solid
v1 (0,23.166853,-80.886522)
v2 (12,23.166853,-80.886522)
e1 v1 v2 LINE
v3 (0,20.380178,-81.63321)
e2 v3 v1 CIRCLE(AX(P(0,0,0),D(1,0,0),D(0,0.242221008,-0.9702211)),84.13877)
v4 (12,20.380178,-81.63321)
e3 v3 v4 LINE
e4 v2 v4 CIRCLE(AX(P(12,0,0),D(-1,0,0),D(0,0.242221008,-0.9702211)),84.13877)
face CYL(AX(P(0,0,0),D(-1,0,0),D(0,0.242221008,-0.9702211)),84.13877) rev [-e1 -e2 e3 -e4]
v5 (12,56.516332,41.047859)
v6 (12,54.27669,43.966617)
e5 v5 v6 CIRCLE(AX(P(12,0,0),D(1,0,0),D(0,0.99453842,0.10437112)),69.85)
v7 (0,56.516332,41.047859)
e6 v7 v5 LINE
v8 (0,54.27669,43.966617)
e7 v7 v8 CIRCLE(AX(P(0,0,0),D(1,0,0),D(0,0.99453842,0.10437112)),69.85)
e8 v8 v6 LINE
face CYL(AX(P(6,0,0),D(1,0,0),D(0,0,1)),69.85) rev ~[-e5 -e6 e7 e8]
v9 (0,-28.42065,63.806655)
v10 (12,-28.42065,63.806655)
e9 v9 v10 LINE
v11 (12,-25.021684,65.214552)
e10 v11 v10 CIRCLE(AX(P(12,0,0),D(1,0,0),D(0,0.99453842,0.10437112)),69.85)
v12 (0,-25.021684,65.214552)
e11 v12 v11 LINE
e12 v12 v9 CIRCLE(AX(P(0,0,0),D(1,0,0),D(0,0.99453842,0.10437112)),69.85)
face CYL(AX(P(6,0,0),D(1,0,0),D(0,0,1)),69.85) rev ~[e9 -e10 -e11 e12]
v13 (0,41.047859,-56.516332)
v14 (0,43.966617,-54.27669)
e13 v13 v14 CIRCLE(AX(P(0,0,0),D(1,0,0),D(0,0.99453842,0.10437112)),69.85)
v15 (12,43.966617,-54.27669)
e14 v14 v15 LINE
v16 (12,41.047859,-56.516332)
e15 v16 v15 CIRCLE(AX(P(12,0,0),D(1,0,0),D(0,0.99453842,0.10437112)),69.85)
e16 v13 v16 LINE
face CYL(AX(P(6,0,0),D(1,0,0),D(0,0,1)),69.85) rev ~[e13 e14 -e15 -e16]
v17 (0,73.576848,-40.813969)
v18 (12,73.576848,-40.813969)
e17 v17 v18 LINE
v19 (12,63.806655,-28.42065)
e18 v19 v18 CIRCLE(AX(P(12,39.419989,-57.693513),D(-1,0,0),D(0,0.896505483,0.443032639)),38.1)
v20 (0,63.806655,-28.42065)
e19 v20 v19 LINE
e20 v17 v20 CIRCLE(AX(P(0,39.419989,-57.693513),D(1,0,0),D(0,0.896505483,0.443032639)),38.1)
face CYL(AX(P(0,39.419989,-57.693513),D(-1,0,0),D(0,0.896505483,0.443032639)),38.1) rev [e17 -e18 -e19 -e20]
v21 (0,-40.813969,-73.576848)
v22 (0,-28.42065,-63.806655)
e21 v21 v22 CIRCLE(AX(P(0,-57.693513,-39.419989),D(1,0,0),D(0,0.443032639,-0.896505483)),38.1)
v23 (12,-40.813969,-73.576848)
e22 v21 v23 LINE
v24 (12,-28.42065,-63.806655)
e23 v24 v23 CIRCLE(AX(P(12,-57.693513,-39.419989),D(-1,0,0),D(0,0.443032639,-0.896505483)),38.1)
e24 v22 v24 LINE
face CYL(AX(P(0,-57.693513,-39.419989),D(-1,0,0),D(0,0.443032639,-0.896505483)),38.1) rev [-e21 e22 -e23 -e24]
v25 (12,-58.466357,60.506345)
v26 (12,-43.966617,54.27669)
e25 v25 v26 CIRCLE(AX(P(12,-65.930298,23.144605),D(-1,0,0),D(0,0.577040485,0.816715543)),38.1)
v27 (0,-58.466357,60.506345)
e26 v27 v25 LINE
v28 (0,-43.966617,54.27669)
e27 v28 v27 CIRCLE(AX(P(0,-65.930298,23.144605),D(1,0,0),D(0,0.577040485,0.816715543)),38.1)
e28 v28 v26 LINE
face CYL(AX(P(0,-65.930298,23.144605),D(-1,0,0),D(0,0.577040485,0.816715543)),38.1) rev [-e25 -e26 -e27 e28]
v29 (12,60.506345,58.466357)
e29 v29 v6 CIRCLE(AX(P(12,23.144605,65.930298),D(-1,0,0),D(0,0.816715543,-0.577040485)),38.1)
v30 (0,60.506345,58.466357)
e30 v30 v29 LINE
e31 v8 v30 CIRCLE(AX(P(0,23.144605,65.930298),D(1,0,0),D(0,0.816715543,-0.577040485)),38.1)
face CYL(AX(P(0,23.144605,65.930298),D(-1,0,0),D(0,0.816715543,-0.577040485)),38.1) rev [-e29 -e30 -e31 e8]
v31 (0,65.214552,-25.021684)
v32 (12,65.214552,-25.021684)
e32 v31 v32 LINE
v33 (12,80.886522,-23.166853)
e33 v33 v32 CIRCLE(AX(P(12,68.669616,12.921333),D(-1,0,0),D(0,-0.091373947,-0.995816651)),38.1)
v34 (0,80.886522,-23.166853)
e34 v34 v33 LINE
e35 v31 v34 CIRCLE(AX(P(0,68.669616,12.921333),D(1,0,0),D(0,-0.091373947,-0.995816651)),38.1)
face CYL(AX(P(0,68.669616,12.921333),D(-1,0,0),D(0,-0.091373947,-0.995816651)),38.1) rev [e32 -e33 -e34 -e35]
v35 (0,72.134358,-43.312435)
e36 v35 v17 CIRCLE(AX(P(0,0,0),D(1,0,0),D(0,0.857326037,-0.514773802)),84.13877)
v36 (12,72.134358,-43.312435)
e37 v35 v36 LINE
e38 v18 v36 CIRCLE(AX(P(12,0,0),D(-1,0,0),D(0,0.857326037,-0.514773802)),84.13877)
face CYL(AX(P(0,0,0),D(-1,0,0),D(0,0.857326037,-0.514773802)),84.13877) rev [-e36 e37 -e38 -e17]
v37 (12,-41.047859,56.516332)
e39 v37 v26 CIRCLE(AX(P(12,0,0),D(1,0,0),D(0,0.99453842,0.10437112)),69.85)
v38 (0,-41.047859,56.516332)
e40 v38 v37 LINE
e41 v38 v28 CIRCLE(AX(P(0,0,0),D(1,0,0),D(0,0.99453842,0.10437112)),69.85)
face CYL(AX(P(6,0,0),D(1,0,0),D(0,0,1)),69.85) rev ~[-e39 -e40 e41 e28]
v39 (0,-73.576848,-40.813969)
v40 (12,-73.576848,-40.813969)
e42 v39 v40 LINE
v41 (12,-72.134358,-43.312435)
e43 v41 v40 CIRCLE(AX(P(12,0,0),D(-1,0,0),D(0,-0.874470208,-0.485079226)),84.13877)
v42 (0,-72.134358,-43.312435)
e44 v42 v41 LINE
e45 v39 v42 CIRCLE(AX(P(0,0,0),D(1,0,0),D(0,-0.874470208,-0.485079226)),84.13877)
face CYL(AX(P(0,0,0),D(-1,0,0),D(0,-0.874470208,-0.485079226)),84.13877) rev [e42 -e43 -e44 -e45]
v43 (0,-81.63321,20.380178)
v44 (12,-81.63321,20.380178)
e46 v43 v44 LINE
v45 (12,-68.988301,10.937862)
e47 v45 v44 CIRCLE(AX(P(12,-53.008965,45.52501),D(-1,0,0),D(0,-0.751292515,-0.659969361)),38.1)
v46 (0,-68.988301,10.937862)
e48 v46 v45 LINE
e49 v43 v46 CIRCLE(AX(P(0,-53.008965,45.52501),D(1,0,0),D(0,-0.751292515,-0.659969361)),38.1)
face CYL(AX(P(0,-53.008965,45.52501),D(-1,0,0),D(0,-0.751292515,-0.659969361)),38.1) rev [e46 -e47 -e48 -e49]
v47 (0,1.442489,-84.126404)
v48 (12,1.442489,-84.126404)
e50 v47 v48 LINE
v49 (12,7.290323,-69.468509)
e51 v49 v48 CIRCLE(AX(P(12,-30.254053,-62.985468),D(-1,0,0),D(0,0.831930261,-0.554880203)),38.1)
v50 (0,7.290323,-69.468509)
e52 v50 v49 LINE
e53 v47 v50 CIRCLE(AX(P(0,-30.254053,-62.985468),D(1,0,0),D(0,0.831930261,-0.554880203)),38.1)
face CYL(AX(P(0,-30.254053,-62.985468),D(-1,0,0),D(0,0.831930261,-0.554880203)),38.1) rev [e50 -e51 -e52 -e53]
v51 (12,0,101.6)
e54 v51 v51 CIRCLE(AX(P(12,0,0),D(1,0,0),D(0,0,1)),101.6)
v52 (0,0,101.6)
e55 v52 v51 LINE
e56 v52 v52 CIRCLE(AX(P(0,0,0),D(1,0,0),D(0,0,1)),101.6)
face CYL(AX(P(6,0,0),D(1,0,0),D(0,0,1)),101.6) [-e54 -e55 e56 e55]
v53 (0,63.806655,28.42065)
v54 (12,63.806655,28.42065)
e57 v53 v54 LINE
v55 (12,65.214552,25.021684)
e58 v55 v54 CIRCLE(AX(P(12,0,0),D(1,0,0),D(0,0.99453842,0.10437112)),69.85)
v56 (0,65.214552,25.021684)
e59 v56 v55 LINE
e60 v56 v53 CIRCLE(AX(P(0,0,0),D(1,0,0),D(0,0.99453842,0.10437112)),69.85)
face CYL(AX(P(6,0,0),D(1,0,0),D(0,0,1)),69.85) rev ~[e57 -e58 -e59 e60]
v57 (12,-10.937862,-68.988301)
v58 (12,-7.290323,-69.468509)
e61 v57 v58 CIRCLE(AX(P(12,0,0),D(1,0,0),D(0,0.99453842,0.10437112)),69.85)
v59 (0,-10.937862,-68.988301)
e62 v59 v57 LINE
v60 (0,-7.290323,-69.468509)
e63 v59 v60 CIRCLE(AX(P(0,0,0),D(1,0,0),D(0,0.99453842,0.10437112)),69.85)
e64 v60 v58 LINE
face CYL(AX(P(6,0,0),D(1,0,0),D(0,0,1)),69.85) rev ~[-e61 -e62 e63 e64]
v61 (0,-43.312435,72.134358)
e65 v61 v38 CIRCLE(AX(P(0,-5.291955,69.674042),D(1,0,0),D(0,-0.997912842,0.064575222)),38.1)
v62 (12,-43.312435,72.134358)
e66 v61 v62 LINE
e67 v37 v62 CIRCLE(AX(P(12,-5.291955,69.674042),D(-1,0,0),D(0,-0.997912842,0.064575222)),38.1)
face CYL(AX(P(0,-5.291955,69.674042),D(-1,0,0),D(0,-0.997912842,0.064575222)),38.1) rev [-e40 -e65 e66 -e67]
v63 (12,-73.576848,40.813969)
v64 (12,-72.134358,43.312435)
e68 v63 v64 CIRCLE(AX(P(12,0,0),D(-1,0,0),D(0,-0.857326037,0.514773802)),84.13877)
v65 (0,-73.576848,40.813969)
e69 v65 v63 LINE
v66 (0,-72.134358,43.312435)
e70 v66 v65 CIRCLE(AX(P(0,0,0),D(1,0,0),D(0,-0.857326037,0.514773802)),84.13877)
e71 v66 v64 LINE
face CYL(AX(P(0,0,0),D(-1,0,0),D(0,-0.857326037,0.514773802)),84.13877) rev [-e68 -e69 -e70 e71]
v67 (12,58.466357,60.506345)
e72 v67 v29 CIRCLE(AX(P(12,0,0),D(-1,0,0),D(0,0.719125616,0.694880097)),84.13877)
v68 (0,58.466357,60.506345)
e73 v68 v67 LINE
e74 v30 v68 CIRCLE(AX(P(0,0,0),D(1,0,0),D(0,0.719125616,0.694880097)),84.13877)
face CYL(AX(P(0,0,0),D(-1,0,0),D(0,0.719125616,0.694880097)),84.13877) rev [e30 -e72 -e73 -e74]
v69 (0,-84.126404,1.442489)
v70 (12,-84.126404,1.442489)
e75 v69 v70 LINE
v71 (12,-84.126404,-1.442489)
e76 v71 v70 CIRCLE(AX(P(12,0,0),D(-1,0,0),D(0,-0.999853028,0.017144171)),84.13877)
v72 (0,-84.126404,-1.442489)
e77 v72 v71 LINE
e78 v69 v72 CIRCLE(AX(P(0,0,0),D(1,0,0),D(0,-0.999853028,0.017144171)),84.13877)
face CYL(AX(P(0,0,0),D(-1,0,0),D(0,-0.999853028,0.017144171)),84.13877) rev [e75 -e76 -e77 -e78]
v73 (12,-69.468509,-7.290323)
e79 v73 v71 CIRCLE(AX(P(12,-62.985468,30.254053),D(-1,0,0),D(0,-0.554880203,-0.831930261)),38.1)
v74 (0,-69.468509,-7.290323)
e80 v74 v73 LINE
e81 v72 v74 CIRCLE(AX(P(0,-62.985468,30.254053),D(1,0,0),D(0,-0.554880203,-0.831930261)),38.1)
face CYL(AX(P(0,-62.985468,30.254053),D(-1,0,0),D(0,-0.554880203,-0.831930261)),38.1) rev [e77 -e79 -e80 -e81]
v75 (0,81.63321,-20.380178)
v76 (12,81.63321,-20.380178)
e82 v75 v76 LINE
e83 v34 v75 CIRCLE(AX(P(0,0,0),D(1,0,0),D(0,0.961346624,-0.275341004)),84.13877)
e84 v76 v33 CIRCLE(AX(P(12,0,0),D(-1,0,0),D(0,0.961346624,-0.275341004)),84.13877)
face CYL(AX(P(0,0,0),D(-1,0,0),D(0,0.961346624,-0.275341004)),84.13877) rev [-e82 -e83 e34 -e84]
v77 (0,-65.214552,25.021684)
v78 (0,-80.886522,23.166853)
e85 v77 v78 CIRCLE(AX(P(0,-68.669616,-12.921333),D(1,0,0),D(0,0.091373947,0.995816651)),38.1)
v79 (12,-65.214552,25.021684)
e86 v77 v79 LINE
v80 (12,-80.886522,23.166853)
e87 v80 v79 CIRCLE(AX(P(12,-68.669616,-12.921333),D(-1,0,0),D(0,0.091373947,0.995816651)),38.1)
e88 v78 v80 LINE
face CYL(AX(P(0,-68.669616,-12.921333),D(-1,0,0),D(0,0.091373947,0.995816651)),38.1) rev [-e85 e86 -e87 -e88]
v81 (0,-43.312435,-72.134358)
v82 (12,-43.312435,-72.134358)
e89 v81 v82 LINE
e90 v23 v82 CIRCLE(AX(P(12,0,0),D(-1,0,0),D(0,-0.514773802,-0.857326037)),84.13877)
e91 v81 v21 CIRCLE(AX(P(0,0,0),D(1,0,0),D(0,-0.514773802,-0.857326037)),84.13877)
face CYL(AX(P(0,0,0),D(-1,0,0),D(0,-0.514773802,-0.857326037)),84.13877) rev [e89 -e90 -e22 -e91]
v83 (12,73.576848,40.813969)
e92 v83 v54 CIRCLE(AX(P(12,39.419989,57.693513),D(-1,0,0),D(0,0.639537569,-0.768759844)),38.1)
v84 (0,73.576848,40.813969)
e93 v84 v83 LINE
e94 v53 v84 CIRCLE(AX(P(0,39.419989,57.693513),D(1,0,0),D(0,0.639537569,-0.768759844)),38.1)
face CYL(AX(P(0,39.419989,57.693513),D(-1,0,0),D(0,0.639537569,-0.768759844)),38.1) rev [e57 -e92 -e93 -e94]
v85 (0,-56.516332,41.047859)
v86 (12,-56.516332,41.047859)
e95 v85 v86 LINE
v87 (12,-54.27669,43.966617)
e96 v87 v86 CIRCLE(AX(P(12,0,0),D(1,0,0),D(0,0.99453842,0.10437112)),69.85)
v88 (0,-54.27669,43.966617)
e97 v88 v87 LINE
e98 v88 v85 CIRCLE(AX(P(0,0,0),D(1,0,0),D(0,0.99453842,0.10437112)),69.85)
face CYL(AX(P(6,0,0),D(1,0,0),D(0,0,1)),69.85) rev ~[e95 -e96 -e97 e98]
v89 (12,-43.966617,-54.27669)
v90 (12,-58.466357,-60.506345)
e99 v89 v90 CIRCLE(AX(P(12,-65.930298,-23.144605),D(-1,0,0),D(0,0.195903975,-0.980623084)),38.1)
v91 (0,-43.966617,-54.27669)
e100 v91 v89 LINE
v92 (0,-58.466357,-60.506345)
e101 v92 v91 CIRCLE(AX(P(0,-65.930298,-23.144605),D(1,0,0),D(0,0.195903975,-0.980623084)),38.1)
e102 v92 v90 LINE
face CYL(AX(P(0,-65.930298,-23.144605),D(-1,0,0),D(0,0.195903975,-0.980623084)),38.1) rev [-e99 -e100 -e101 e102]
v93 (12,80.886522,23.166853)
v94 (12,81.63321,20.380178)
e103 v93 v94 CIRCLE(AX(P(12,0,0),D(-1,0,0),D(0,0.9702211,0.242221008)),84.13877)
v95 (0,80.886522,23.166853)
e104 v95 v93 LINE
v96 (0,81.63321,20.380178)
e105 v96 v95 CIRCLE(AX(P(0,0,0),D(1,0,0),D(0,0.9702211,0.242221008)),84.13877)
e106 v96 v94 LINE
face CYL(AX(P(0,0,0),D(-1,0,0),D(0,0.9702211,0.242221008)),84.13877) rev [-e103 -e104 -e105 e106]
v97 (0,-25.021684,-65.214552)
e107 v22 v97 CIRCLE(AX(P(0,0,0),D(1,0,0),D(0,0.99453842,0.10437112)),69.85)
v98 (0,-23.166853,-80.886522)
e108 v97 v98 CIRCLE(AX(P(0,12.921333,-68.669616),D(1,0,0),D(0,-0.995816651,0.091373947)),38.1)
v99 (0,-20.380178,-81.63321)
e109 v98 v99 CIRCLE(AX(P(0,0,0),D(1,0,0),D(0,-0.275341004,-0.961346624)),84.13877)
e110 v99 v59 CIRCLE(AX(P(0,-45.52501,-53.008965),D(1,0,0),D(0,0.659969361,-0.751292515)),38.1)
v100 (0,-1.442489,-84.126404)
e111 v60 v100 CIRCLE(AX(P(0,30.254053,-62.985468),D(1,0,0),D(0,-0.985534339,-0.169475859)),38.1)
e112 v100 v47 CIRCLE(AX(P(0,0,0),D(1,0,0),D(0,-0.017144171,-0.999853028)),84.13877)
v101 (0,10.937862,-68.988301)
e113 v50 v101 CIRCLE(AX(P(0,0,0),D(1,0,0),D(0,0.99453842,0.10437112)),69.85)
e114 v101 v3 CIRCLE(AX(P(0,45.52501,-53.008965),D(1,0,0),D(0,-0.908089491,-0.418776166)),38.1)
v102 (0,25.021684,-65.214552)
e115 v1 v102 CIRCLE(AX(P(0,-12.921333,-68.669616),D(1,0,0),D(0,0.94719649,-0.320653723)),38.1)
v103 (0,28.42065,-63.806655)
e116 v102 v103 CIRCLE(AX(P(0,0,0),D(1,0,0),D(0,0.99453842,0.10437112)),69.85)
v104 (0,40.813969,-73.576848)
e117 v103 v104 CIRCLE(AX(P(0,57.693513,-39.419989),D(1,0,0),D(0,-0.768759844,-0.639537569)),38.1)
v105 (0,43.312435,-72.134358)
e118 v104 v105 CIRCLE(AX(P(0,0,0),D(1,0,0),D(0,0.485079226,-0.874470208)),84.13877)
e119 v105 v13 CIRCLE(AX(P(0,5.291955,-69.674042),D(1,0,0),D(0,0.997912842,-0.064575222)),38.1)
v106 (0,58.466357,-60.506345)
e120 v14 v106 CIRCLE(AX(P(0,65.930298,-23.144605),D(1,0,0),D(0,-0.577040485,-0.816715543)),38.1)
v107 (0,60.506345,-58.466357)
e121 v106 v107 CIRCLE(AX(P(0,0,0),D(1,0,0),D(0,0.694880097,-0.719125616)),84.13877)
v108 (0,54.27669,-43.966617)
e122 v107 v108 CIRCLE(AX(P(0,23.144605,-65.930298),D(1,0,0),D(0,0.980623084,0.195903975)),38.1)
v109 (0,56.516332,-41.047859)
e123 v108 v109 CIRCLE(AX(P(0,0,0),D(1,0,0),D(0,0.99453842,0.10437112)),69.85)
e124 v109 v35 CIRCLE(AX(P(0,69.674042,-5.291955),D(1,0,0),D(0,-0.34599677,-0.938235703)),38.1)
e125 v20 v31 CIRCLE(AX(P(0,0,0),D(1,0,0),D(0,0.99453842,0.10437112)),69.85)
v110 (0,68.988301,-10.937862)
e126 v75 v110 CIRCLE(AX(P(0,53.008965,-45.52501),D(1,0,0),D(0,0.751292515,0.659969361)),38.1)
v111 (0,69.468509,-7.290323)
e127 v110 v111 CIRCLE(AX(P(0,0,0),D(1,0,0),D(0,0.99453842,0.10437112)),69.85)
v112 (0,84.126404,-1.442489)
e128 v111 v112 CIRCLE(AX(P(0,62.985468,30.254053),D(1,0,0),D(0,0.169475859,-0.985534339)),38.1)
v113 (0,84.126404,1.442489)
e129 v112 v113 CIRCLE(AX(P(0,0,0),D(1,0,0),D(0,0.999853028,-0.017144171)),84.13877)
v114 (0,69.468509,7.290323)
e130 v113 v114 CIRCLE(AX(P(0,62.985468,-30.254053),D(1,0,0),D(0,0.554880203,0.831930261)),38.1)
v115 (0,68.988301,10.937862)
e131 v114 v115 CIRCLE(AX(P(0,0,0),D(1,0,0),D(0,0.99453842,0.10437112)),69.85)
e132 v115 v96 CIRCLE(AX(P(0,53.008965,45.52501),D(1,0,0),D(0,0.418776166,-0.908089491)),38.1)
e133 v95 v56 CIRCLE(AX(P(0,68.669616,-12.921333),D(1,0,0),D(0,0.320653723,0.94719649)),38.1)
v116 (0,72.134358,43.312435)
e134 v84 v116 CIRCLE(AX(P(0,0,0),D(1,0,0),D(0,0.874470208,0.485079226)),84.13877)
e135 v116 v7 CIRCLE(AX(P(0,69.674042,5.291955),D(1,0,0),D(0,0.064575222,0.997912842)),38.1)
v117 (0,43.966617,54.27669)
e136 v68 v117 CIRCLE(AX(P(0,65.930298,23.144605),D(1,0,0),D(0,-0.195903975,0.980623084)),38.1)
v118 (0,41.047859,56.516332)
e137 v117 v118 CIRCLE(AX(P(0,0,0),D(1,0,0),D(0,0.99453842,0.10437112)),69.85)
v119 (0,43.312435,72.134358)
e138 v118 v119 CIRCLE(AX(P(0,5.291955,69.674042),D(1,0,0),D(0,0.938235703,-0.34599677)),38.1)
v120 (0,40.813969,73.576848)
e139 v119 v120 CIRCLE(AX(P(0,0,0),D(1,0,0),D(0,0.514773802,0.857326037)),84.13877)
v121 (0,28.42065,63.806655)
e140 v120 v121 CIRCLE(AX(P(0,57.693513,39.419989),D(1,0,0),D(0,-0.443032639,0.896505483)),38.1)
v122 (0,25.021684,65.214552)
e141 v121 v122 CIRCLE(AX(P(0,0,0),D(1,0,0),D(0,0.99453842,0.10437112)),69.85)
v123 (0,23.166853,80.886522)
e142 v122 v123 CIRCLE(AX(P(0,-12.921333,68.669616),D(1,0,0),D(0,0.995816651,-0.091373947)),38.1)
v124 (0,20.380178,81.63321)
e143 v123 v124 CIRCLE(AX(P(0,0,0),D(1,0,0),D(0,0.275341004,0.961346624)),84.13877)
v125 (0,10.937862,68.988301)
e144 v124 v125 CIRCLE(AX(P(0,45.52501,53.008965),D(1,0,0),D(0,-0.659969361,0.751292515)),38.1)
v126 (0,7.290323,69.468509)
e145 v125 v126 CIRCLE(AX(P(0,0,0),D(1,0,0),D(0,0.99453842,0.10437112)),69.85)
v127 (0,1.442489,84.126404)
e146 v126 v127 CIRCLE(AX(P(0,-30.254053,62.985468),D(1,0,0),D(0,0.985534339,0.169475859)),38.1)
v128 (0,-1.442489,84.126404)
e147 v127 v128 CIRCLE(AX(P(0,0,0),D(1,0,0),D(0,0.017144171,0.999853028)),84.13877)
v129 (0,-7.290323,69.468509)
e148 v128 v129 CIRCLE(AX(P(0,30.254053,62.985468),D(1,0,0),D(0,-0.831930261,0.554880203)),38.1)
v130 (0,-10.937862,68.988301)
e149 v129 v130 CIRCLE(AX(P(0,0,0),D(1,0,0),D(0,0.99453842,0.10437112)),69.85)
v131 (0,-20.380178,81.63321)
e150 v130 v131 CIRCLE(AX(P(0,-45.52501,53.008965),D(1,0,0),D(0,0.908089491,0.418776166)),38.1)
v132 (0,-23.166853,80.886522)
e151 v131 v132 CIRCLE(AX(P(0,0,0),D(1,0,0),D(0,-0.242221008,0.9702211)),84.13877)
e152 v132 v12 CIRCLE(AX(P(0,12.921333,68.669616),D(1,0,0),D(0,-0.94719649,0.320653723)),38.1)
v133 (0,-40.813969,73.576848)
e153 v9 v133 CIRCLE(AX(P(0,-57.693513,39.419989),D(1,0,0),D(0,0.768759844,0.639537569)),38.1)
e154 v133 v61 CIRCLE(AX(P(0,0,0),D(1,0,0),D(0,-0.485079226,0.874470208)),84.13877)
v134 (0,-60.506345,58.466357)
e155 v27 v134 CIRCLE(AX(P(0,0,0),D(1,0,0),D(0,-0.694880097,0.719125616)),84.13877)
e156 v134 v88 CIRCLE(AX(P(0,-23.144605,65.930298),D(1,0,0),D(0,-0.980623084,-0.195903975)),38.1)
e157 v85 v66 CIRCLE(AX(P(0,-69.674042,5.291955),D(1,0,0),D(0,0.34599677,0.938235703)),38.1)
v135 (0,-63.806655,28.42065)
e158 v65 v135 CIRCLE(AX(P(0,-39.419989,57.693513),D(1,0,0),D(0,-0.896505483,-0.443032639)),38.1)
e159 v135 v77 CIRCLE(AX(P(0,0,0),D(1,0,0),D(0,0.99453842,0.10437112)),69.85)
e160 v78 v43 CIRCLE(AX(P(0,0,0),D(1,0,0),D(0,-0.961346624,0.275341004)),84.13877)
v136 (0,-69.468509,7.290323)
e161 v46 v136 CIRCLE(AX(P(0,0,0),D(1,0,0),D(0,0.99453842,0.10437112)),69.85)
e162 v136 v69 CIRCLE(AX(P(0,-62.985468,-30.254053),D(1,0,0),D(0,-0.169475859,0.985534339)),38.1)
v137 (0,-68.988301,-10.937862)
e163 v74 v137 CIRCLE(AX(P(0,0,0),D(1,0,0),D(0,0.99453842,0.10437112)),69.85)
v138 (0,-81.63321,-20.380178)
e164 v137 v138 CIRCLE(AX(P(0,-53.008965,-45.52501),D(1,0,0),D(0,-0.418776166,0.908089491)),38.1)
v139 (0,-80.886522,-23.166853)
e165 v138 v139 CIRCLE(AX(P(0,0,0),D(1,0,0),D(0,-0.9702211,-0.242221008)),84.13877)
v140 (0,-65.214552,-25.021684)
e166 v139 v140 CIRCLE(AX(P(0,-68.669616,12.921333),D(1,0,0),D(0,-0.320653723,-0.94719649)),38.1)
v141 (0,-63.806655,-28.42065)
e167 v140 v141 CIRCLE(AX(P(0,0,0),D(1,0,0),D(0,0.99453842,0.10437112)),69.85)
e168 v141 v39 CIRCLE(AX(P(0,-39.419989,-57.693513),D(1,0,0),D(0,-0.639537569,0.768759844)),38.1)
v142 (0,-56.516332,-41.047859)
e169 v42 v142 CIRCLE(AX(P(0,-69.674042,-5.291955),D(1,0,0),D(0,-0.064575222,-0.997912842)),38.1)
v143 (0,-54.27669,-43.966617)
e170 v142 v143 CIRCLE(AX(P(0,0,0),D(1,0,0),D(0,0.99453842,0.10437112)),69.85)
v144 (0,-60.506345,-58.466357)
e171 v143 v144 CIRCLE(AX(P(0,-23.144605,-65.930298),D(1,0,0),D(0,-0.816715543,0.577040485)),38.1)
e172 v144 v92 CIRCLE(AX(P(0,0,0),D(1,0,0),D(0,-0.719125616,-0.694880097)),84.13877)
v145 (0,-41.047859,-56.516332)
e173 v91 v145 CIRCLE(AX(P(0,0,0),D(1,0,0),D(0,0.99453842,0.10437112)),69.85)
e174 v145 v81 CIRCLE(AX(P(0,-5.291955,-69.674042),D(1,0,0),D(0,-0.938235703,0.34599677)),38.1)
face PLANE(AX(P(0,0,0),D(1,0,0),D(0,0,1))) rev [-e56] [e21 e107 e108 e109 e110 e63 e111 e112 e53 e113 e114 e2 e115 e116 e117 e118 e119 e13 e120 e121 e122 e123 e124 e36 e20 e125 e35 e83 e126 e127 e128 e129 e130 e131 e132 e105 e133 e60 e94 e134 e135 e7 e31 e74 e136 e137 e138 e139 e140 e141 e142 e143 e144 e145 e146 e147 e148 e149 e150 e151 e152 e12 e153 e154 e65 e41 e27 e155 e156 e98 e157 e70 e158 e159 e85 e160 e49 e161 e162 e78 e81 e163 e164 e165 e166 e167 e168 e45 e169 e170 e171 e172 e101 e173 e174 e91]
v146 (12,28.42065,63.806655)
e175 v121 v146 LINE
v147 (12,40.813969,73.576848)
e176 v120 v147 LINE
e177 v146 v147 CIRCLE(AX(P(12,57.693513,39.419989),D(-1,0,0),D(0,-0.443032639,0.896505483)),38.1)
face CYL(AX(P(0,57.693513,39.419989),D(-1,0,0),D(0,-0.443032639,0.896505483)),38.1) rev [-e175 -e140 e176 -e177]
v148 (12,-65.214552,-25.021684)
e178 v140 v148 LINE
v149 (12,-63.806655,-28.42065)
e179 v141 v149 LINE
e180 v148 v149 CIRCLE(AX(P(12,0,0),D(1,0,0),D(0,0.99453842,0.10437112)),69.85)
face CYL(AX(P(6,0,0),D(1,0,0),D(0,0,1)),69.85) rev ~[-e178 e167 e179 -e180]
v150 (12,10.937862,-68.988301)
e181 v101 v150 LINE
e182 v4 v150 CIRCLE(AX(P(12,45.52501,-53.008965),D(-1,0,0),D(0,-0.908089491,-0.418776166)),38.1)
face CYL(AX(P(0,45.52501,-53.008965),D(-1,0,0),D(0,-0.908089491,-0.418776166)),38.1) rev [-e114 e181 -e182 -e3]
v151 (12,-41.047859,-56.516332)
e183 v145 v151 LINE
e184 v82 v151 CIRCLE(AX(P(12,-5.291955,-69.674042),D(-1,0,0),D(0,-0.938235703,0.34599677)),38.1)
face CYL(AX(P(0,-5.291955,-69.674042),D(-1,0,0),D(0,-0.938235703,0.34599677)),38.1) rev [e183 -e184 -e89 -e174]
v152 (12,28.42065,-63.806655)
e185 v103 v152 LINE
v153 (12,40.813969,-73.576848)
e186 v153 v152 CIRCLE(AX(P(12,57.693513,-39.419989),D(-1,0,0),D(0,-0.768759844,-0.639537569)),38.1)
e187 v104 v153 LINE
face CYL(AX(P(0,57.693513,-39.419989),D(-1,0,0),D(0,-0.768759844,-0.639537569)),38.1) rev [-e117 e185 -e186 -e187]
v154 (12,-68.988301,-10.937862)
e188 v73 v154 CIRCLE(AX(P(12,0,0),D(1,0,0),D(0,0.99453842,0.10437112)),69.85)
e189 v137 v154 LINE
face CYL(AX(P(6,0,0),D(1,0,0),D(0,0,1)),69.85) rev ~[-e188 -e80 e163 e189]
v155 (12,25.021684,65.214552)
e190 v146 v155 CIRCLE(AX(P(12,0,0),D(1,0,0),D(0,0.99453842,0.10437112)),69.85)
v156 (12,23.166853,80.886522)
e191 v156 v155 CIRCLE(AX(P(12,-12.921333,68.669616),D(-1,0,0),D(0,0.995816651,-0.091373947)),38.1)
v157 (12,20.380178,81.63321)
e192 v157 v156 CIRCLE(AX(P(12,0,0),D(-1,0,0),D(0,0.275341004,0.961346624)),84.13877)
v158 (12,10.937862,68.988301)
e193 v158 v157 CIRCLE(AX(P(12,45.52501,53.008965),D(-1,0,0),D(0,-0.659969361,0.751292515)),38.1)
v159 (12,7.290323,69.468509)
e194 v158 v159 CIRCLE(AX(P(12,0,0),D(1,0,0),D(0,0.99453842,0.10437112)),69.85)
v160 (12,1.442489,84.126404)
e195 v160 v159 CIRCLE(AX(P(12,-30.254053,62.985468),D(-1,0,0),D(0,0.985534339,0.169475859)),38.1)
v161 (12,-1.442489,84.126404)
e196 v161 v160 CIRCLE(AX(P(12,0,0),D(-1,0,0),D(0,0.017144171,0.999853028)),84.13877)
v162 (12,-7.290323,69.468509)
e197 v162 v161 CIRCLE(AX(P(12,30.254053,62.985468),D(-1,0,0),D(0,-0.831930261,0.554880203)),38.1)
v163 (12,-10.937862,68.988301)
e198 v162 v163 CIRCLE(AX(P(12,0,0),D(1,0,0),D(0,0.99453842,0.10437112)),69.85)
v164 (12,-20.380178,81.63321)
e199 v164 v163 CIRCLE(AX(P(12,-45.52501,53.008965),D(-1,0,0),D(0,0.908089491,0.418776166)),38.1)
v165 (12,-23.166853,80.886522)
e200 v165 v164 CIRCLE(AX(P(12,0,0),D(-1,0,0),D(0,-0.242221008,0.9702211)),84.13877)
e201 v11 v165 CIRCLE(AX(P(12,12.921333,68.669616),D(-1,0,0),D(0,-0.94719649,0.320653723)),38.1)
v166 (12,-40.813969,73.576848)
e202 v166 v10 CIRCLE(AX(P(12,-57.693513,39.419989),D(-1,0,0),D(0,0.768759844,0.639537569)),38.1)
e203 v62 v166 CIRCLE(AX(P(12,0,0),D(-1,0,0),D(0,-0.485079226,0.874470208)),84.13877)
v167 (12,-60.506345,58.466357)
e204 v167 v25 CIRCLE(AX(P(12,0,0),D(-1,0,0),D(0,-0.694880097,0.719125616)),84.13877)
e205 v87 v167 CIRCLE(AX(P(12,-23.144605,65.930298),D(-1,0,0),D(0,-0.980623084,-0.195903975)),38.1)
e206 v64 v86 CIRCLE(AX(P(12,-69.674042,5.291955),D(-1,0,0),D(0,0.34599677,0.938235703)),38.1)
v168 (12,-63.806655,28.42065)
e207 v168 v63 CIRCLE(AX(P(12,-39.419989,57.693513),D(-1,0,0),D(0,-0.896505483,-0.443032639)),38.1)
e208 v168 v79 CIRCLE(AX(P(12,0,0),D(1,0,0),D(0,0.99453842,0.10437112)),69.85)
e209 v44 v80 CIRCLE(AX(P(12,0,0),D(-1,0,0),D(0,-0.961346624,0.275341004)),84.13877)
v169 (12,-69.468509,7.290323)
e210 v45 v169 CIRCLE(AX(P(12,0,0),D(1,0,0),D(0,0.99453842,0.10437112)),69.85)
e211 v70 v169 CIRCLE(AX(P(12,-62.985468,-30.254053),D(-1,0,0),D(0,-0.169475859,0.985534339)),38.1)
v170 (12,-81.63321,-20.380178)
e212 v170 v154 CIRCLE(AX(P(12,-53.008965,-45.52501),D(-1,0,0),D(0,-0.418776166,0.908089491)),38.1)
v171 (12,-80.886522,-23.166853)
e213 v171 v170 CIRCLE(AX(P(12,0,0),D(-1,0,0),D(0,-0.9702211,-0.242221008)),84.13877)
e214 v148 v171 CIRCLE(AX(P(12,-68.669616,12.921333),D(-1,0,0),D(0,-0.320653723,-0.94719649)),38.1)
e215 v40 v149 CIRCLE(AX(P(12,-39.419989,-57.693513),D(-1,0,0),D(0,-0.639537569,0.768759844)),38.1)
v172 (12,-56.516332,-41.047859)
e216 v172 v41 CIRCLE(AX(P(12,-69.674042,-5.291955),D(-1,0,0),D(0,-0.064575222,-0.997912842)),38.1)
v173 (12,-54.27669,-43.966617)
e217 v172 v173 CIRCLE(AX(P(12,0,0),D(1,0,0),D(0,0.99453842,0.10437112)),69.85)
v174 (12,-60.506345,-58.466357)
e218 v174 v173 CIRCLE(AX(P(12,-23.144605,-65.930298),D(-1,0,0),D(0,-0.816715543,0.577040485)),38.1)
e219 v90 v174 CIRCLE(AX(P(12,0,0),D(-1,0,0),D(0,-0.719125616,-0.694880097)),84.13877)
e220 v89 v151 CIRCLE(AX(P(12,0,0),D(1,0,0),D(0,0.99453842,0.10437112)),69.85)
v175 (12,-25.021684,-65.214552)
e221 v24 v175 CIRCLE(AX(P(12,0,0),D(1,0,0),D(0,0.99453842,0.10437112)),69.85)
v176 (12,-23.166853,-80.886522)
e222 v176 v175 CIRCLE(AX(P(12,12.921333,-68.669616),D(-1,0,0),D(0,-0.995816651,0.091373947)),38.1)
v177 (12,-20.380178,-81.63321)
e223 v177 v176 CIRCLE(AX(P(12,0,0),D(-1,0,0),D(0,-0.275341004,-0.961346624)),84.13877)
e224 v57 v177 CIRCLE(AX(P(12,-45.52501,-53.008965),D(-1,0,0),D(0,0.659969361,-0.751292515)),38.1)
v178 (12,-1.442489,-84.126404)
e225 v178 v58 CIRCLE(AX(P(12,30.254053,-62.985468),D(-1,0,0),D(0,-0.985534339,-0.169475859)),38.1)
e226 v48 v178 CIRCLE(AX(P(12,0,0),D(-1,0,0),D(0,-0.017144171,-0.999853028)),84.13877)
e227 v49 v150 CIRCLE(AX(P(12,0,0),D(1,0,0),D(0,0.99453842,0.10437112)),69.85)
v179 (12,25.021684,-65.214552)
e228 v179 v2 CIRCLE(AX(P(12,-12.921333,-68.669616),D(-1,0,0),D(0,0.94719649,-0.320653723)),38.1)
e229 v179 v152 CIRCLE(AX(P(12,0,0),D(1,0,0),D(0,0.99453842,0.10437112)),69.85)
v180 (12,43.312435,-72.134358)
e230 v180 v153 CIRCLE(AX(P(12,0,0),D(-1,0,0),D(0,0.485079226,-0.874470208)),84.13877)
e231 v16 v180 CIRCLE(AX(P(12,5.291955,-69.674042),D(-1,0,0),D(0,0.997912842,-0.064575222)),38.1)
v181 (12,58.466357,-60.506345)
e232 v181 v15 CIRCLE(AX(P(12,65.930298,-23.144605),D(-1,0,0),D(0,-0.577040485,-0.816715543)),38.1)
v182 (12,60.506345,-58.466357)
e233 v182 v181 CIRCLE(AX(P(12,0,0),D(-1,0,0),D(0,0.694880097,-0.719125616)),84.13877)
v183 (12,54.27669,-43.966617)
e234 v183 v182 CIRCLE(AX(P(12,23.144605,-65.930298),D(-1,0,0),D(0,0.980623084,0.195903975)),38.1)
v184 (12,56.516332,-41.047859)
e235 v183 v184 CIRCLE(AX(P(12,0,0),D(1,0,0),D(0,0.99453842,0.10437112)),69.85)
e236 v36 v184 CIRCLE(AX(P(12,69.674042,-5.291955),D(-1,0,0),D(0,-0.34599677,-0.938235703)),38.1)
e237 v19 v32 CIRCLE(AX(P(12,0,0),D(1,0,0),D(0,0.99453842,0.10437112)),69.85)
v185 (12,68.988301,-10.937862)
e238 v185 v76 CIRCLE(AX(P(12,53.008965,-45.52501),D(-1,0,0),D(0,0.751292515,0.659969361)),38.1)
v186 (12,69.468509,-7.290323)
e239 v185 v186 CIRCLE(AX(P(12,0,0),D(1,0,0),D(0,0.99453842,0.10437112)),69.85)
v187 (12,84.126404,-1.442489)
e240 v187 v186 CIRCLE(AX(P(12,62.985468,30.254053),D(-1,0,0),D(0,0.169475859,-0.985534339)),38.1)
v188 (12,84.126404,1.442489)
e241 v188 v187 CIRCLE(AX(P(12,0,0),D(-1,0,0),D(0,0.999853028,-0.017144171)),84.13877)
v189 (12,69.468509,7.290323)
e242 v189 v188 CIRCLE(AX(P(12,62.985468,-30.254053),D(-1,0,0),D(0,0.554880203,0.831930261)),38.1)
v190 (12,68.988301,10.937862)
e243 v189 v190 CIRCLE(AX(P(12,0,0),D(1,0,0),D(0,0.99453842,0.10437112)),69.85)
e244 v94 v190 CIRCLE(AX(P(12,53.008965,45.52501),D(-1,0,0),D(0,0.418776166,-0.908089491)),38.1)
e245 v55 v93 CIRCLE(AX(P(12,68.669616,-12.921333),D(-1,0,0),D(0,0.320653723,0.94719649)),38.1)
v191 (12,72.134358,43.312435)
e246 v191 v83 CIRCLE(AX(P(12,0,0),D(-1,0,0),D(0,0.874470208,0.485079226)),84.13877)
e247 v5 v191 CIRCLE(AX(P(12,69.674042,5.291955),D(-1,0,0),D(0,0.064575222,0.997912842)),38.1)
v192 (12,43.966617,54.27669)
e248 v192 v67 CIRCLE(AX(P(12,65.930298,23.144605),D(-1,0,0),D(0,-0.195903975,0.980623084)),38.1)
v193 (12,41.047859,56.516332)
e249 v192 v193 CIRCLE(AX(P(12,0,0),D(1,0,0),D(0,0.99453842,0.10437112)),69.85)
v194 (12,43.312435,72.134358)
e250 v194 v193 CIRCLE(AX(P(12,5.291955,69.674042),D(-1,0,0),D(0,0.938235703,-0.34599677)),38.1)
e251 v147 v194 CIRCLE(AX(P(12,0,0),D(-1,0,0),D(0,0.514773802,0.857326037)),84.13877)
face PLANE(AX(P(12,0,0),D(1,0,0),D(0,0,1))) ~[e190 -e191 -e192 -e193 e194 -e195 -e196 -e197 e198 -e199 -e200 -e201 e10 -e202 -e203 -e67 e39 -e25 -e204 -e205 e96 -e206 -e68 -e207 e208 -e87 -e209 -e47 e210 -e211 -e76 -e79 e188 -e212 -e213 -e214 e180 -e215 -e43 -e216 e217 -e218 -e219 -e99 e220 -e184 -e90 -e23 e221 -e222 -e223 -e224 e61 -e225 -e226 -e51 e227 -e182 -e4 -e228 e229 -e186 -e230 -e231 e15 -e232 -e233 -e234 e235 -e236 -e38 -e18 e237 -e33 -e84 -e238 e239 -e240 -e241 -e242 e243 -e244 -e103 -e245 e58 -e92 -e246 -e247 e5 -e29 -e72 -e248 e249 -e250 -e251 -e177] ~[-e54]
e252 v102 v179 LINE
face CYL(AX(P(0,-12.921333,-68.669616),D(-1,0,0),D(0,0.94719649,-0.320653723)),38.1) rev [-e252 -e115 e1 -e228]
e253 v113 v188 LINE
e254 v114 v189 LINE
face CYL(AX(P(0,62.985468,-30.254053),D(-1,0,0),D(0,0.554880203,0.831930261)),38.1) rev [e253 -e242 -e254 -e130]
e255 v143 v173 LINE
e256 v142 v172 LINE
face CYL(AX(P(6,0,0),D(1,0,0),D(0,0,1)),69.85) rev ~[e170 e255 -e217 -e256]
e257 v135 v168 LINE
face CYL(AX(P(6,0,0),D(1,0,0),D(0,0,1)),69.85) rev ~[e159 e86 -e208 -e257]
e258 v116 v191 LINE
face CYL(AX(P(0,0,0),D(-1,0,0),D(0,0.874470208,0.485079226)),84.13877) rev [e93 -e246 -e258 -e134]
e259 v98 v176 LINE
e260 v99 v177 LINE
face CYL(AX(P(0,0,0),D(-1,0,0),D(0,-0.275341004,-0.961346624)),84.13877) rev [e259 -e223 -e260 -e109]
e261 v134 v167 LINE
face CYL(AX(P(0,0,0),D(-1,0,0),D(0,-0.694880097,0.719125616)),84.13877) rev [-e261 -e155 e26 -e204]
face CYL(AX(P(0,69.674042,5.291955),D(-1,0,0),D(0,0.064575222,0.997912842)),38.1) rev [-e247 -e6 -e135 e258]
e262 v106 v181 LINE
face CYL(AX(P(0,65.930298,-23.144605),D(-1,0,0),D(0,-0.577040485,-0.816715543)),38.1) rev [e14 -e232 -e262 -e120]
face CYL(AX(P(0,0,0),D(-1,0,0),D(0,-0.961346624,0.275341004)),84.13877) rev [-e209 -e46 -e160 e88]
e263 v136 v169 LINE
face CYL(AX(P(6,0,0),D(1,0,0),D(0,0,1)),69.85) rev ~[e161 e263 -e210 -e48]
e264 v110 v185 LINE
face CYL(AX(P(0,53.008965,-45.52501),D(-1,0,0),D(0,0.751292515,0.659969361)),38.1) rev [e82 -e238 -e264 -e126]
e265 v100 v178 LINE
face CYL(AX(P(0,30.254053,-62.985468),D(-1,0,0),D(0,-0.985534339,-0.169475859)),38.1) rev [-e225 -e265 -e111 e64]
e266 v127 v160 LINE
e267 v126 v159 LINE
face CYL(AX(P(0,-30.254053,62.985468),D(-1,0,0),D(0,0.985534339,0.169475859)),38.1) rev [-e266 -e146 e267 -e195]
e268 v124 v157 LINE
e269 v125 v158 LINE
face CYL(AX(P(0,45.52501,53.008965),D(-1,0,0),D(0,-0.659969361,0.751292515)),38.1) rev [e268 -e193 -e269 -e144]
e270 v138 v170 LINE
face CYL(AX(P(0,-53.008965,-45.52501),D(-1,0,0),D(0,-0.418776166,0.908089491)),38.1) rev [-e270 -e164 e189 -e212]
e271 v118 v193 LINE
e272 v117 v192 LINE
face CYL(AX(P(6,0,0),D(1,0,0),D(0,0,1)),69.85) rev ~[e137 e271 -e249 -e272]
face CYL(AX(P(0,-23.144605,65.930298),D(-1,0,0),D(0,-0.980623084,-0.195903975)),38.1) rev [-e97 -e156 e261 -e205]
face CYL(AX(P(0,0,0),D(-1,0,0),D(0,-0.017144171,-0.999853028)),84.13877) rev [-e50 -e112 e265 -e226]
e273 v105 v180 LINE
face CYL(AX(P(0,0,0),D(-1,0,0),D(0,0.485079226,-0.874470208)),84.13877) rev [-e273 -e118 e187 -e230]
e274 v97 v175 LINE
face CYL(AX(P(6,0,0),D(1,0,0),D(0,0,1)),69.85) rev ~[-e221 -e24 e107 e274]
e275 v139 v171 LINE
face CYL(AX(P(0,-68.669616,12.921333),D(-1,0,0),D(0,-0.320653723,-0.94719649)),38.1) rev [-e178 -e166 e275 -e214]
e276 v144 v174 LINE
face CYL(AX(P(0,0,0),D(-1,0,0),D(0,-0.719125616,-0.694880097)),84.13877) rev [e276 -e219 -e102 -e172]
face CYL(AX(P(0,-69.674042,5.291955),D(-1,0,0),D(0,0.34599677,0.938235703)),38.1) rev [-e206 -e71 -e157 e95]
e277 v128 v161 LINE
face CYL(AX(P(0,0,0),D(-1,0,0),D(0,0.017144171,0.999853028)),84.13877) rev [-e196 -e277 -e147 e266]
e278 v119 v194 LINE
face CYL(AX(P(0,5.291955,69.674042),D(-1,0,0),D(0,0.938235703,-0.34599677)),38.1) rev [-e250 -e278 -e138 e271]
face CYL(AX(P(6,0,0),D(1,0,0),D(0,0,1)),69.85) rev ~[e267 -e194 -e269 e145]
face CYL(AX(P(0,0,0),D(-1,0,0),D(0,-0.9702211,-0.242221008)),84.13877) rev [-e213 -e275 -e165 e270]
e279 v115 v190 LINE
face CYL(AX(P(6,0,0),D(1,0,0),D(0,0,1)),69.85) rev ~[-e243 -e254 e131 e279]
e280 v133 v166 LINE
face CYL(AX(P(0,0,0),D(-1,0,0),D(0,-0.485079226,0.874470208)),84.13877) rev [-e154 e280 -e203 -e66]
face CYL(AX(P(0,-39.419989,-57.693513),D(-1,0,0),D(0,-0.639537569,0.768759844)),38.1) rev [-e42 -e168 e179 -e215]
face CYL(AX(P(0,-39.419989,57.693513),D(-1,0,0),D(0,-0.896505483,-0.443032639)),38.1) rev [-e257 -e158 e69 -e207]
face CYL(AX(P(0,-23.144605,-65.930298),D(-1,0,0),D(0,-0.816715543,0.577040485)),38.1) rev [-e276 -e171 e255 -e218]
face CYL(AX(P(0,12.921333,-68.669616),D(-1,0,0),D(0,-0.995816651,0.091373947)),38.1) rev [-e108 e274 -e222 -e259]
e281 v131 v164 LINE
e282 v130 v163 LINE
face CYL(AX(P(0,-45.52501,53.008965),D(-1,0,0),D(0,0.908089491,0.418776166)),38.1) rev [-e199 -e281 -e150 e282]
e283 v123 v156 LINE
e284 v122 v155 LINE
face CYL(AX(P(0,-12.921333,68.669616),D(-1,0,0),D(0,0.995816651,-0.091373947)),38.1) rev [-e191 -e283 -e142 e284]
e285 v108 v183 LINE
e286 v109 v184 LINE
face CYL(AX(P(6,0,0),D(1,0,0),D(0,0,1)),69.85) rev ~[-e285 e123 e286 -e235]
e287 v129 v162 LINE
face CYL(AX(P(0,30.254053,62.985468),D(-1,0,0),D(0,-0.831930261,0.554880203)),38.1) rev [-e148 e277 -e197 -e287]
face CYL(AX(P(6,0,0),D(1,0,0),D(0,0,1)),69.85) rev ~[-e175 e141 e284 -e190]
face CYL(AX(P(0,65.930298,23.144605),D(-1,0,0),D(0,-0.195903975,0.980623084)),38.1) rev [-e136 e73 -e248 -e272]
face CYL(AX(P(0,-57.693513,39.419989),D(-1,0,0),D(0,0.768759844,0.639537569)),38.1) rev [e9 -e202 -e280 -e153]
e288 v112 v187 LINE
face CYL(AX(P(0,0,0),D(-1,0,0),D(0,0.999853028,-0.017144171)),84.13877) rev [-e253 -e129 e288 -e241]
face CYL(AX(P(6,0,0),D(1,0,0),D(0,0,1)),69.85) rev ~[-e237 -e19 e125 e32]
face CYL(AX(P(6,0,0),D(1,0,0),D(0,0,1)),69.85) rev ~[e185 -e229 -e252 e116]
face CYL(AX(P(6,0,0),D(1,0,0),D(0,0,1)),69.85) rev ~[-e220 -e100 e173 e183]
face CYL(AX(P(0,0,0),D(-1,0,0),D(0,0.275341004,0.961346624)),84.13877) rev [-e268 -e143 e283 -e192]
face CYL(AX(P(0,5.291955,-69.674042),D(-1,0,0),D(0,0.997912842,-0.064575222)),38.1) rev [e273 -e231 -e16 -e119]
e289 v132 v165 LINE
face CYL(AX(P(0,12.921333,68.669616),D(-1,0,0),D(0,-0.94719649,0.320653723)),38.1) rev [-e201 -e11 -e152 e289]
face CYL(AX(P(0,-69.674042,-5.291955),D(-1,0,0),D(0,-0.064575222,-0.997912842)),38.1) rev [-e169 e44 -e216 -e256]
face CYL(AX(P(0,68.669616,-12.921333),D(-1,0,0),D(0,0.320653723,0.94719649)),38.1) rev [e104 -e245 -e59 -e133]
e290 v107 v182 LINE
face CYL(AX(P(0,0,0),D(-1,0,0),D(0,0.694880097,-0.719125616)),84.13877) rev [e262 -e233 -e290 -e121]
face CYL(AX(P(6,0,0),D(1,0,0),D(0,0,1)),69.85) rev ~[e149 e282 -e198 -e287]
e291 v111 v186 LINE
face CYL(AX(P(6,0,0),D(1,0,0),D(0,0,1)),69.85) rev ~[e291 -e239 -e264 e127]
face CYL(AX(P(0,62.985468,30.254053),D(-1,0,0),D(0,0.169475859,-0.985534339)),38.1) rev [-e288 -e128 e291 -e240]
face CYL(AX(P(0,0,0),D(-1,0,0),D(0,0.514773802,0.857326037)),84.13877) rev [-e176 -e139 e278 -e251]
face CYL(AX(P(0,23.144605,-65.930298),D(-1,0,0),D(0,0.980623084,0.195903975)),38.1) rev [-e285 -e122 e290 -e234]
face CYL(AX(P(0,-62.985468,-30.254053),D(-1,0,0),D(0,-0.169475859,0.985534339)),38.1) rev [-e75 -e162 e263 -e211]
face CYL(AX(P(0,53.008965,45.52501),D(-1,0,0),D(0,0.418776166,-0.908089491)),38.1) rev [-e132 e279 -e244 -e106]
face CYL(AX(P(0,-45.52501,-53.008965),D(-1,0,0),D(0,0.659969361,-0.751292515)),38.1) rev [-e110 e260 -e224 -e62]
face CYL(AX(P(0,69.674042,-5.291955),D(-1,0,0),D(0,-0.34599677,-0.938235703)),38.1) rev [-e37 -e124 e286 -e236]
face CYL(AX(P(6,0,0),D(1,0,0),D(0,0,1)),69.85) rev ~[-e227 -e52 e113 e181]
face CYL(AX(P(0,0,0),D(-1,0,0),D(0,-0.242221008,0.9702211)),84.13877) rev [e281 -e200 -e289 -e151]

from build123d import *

# Parameters (mm, degrees)
BASPROSKE_W     = 12
BASPROSKE_H     = 31.75
TOOTHCUT_DEPTH  = 145.184326471
TEETHCUTS_COUNT = 24
TEETHCUTS_ANGLE = 345


with BuildPart() as part:
    # BasProSke → Base-Revolve (revolve)
    with BuildSketch(Plane(origin=(0, 0, 0), x_dir=(1, 0, 0), z_dir=(0, 1, 0)), mode=Mode.PRIVATE) as base_revolve_sk:
        with Locations((6, 85.725)):
            Rectangle(BASPROSKE_W, BASPROSKE_H)
    revolve(base_revolve_sk.sketch.rotate(Axis((-10, 0, 0), (1, 0, 0)), 180), axis=Axis((-10, 0, 0), (1, 0, 0)))

    # TooCutSke → ToothCut (cut, through all)
    with BuildSketch(Plane(origin=(0, 0, 0), x_dir=(0, 0, -1), z_dir=(1, 0, 0))):
        with BuildLine():
            ThreePointArc((7.294804836, 69.442498425), (5.138539952, 77.091294309), (1.442489481, 84.126403948))
            ThreePointArc((1.442489481, 84.126403948), (0, 84.13877), (-1.442489481, 84.126403948))
            ThreePointArc((-1.442489481, 84.126403948), (-5.138539952, 77.091294309), (-7.294804836, 69.442498425))
            ThreePointArc((-7.294804836, 69.442498425), (0, 69.8246), (7.294804836, 69.442498425))
        make_face()
    toothcut = extrude(amount=TOOTHCUT_DEPTH, mode=Mode.SUBTRACT)

    # TeethCuts: ToothCut ×24 about axis
    teethcuts_axis = Axis((-10, 0, 0), (1, 0, 0))
    for i in range(1, TEETHCUTS_COUNT):
        add(toothcut.rotate(teethcuts_axis, i * TEETHCUTS_ANGLE / (TEETHCUTS_COUNT - 1)), mode=Mode.SUBTRACT)


solid = part.part
